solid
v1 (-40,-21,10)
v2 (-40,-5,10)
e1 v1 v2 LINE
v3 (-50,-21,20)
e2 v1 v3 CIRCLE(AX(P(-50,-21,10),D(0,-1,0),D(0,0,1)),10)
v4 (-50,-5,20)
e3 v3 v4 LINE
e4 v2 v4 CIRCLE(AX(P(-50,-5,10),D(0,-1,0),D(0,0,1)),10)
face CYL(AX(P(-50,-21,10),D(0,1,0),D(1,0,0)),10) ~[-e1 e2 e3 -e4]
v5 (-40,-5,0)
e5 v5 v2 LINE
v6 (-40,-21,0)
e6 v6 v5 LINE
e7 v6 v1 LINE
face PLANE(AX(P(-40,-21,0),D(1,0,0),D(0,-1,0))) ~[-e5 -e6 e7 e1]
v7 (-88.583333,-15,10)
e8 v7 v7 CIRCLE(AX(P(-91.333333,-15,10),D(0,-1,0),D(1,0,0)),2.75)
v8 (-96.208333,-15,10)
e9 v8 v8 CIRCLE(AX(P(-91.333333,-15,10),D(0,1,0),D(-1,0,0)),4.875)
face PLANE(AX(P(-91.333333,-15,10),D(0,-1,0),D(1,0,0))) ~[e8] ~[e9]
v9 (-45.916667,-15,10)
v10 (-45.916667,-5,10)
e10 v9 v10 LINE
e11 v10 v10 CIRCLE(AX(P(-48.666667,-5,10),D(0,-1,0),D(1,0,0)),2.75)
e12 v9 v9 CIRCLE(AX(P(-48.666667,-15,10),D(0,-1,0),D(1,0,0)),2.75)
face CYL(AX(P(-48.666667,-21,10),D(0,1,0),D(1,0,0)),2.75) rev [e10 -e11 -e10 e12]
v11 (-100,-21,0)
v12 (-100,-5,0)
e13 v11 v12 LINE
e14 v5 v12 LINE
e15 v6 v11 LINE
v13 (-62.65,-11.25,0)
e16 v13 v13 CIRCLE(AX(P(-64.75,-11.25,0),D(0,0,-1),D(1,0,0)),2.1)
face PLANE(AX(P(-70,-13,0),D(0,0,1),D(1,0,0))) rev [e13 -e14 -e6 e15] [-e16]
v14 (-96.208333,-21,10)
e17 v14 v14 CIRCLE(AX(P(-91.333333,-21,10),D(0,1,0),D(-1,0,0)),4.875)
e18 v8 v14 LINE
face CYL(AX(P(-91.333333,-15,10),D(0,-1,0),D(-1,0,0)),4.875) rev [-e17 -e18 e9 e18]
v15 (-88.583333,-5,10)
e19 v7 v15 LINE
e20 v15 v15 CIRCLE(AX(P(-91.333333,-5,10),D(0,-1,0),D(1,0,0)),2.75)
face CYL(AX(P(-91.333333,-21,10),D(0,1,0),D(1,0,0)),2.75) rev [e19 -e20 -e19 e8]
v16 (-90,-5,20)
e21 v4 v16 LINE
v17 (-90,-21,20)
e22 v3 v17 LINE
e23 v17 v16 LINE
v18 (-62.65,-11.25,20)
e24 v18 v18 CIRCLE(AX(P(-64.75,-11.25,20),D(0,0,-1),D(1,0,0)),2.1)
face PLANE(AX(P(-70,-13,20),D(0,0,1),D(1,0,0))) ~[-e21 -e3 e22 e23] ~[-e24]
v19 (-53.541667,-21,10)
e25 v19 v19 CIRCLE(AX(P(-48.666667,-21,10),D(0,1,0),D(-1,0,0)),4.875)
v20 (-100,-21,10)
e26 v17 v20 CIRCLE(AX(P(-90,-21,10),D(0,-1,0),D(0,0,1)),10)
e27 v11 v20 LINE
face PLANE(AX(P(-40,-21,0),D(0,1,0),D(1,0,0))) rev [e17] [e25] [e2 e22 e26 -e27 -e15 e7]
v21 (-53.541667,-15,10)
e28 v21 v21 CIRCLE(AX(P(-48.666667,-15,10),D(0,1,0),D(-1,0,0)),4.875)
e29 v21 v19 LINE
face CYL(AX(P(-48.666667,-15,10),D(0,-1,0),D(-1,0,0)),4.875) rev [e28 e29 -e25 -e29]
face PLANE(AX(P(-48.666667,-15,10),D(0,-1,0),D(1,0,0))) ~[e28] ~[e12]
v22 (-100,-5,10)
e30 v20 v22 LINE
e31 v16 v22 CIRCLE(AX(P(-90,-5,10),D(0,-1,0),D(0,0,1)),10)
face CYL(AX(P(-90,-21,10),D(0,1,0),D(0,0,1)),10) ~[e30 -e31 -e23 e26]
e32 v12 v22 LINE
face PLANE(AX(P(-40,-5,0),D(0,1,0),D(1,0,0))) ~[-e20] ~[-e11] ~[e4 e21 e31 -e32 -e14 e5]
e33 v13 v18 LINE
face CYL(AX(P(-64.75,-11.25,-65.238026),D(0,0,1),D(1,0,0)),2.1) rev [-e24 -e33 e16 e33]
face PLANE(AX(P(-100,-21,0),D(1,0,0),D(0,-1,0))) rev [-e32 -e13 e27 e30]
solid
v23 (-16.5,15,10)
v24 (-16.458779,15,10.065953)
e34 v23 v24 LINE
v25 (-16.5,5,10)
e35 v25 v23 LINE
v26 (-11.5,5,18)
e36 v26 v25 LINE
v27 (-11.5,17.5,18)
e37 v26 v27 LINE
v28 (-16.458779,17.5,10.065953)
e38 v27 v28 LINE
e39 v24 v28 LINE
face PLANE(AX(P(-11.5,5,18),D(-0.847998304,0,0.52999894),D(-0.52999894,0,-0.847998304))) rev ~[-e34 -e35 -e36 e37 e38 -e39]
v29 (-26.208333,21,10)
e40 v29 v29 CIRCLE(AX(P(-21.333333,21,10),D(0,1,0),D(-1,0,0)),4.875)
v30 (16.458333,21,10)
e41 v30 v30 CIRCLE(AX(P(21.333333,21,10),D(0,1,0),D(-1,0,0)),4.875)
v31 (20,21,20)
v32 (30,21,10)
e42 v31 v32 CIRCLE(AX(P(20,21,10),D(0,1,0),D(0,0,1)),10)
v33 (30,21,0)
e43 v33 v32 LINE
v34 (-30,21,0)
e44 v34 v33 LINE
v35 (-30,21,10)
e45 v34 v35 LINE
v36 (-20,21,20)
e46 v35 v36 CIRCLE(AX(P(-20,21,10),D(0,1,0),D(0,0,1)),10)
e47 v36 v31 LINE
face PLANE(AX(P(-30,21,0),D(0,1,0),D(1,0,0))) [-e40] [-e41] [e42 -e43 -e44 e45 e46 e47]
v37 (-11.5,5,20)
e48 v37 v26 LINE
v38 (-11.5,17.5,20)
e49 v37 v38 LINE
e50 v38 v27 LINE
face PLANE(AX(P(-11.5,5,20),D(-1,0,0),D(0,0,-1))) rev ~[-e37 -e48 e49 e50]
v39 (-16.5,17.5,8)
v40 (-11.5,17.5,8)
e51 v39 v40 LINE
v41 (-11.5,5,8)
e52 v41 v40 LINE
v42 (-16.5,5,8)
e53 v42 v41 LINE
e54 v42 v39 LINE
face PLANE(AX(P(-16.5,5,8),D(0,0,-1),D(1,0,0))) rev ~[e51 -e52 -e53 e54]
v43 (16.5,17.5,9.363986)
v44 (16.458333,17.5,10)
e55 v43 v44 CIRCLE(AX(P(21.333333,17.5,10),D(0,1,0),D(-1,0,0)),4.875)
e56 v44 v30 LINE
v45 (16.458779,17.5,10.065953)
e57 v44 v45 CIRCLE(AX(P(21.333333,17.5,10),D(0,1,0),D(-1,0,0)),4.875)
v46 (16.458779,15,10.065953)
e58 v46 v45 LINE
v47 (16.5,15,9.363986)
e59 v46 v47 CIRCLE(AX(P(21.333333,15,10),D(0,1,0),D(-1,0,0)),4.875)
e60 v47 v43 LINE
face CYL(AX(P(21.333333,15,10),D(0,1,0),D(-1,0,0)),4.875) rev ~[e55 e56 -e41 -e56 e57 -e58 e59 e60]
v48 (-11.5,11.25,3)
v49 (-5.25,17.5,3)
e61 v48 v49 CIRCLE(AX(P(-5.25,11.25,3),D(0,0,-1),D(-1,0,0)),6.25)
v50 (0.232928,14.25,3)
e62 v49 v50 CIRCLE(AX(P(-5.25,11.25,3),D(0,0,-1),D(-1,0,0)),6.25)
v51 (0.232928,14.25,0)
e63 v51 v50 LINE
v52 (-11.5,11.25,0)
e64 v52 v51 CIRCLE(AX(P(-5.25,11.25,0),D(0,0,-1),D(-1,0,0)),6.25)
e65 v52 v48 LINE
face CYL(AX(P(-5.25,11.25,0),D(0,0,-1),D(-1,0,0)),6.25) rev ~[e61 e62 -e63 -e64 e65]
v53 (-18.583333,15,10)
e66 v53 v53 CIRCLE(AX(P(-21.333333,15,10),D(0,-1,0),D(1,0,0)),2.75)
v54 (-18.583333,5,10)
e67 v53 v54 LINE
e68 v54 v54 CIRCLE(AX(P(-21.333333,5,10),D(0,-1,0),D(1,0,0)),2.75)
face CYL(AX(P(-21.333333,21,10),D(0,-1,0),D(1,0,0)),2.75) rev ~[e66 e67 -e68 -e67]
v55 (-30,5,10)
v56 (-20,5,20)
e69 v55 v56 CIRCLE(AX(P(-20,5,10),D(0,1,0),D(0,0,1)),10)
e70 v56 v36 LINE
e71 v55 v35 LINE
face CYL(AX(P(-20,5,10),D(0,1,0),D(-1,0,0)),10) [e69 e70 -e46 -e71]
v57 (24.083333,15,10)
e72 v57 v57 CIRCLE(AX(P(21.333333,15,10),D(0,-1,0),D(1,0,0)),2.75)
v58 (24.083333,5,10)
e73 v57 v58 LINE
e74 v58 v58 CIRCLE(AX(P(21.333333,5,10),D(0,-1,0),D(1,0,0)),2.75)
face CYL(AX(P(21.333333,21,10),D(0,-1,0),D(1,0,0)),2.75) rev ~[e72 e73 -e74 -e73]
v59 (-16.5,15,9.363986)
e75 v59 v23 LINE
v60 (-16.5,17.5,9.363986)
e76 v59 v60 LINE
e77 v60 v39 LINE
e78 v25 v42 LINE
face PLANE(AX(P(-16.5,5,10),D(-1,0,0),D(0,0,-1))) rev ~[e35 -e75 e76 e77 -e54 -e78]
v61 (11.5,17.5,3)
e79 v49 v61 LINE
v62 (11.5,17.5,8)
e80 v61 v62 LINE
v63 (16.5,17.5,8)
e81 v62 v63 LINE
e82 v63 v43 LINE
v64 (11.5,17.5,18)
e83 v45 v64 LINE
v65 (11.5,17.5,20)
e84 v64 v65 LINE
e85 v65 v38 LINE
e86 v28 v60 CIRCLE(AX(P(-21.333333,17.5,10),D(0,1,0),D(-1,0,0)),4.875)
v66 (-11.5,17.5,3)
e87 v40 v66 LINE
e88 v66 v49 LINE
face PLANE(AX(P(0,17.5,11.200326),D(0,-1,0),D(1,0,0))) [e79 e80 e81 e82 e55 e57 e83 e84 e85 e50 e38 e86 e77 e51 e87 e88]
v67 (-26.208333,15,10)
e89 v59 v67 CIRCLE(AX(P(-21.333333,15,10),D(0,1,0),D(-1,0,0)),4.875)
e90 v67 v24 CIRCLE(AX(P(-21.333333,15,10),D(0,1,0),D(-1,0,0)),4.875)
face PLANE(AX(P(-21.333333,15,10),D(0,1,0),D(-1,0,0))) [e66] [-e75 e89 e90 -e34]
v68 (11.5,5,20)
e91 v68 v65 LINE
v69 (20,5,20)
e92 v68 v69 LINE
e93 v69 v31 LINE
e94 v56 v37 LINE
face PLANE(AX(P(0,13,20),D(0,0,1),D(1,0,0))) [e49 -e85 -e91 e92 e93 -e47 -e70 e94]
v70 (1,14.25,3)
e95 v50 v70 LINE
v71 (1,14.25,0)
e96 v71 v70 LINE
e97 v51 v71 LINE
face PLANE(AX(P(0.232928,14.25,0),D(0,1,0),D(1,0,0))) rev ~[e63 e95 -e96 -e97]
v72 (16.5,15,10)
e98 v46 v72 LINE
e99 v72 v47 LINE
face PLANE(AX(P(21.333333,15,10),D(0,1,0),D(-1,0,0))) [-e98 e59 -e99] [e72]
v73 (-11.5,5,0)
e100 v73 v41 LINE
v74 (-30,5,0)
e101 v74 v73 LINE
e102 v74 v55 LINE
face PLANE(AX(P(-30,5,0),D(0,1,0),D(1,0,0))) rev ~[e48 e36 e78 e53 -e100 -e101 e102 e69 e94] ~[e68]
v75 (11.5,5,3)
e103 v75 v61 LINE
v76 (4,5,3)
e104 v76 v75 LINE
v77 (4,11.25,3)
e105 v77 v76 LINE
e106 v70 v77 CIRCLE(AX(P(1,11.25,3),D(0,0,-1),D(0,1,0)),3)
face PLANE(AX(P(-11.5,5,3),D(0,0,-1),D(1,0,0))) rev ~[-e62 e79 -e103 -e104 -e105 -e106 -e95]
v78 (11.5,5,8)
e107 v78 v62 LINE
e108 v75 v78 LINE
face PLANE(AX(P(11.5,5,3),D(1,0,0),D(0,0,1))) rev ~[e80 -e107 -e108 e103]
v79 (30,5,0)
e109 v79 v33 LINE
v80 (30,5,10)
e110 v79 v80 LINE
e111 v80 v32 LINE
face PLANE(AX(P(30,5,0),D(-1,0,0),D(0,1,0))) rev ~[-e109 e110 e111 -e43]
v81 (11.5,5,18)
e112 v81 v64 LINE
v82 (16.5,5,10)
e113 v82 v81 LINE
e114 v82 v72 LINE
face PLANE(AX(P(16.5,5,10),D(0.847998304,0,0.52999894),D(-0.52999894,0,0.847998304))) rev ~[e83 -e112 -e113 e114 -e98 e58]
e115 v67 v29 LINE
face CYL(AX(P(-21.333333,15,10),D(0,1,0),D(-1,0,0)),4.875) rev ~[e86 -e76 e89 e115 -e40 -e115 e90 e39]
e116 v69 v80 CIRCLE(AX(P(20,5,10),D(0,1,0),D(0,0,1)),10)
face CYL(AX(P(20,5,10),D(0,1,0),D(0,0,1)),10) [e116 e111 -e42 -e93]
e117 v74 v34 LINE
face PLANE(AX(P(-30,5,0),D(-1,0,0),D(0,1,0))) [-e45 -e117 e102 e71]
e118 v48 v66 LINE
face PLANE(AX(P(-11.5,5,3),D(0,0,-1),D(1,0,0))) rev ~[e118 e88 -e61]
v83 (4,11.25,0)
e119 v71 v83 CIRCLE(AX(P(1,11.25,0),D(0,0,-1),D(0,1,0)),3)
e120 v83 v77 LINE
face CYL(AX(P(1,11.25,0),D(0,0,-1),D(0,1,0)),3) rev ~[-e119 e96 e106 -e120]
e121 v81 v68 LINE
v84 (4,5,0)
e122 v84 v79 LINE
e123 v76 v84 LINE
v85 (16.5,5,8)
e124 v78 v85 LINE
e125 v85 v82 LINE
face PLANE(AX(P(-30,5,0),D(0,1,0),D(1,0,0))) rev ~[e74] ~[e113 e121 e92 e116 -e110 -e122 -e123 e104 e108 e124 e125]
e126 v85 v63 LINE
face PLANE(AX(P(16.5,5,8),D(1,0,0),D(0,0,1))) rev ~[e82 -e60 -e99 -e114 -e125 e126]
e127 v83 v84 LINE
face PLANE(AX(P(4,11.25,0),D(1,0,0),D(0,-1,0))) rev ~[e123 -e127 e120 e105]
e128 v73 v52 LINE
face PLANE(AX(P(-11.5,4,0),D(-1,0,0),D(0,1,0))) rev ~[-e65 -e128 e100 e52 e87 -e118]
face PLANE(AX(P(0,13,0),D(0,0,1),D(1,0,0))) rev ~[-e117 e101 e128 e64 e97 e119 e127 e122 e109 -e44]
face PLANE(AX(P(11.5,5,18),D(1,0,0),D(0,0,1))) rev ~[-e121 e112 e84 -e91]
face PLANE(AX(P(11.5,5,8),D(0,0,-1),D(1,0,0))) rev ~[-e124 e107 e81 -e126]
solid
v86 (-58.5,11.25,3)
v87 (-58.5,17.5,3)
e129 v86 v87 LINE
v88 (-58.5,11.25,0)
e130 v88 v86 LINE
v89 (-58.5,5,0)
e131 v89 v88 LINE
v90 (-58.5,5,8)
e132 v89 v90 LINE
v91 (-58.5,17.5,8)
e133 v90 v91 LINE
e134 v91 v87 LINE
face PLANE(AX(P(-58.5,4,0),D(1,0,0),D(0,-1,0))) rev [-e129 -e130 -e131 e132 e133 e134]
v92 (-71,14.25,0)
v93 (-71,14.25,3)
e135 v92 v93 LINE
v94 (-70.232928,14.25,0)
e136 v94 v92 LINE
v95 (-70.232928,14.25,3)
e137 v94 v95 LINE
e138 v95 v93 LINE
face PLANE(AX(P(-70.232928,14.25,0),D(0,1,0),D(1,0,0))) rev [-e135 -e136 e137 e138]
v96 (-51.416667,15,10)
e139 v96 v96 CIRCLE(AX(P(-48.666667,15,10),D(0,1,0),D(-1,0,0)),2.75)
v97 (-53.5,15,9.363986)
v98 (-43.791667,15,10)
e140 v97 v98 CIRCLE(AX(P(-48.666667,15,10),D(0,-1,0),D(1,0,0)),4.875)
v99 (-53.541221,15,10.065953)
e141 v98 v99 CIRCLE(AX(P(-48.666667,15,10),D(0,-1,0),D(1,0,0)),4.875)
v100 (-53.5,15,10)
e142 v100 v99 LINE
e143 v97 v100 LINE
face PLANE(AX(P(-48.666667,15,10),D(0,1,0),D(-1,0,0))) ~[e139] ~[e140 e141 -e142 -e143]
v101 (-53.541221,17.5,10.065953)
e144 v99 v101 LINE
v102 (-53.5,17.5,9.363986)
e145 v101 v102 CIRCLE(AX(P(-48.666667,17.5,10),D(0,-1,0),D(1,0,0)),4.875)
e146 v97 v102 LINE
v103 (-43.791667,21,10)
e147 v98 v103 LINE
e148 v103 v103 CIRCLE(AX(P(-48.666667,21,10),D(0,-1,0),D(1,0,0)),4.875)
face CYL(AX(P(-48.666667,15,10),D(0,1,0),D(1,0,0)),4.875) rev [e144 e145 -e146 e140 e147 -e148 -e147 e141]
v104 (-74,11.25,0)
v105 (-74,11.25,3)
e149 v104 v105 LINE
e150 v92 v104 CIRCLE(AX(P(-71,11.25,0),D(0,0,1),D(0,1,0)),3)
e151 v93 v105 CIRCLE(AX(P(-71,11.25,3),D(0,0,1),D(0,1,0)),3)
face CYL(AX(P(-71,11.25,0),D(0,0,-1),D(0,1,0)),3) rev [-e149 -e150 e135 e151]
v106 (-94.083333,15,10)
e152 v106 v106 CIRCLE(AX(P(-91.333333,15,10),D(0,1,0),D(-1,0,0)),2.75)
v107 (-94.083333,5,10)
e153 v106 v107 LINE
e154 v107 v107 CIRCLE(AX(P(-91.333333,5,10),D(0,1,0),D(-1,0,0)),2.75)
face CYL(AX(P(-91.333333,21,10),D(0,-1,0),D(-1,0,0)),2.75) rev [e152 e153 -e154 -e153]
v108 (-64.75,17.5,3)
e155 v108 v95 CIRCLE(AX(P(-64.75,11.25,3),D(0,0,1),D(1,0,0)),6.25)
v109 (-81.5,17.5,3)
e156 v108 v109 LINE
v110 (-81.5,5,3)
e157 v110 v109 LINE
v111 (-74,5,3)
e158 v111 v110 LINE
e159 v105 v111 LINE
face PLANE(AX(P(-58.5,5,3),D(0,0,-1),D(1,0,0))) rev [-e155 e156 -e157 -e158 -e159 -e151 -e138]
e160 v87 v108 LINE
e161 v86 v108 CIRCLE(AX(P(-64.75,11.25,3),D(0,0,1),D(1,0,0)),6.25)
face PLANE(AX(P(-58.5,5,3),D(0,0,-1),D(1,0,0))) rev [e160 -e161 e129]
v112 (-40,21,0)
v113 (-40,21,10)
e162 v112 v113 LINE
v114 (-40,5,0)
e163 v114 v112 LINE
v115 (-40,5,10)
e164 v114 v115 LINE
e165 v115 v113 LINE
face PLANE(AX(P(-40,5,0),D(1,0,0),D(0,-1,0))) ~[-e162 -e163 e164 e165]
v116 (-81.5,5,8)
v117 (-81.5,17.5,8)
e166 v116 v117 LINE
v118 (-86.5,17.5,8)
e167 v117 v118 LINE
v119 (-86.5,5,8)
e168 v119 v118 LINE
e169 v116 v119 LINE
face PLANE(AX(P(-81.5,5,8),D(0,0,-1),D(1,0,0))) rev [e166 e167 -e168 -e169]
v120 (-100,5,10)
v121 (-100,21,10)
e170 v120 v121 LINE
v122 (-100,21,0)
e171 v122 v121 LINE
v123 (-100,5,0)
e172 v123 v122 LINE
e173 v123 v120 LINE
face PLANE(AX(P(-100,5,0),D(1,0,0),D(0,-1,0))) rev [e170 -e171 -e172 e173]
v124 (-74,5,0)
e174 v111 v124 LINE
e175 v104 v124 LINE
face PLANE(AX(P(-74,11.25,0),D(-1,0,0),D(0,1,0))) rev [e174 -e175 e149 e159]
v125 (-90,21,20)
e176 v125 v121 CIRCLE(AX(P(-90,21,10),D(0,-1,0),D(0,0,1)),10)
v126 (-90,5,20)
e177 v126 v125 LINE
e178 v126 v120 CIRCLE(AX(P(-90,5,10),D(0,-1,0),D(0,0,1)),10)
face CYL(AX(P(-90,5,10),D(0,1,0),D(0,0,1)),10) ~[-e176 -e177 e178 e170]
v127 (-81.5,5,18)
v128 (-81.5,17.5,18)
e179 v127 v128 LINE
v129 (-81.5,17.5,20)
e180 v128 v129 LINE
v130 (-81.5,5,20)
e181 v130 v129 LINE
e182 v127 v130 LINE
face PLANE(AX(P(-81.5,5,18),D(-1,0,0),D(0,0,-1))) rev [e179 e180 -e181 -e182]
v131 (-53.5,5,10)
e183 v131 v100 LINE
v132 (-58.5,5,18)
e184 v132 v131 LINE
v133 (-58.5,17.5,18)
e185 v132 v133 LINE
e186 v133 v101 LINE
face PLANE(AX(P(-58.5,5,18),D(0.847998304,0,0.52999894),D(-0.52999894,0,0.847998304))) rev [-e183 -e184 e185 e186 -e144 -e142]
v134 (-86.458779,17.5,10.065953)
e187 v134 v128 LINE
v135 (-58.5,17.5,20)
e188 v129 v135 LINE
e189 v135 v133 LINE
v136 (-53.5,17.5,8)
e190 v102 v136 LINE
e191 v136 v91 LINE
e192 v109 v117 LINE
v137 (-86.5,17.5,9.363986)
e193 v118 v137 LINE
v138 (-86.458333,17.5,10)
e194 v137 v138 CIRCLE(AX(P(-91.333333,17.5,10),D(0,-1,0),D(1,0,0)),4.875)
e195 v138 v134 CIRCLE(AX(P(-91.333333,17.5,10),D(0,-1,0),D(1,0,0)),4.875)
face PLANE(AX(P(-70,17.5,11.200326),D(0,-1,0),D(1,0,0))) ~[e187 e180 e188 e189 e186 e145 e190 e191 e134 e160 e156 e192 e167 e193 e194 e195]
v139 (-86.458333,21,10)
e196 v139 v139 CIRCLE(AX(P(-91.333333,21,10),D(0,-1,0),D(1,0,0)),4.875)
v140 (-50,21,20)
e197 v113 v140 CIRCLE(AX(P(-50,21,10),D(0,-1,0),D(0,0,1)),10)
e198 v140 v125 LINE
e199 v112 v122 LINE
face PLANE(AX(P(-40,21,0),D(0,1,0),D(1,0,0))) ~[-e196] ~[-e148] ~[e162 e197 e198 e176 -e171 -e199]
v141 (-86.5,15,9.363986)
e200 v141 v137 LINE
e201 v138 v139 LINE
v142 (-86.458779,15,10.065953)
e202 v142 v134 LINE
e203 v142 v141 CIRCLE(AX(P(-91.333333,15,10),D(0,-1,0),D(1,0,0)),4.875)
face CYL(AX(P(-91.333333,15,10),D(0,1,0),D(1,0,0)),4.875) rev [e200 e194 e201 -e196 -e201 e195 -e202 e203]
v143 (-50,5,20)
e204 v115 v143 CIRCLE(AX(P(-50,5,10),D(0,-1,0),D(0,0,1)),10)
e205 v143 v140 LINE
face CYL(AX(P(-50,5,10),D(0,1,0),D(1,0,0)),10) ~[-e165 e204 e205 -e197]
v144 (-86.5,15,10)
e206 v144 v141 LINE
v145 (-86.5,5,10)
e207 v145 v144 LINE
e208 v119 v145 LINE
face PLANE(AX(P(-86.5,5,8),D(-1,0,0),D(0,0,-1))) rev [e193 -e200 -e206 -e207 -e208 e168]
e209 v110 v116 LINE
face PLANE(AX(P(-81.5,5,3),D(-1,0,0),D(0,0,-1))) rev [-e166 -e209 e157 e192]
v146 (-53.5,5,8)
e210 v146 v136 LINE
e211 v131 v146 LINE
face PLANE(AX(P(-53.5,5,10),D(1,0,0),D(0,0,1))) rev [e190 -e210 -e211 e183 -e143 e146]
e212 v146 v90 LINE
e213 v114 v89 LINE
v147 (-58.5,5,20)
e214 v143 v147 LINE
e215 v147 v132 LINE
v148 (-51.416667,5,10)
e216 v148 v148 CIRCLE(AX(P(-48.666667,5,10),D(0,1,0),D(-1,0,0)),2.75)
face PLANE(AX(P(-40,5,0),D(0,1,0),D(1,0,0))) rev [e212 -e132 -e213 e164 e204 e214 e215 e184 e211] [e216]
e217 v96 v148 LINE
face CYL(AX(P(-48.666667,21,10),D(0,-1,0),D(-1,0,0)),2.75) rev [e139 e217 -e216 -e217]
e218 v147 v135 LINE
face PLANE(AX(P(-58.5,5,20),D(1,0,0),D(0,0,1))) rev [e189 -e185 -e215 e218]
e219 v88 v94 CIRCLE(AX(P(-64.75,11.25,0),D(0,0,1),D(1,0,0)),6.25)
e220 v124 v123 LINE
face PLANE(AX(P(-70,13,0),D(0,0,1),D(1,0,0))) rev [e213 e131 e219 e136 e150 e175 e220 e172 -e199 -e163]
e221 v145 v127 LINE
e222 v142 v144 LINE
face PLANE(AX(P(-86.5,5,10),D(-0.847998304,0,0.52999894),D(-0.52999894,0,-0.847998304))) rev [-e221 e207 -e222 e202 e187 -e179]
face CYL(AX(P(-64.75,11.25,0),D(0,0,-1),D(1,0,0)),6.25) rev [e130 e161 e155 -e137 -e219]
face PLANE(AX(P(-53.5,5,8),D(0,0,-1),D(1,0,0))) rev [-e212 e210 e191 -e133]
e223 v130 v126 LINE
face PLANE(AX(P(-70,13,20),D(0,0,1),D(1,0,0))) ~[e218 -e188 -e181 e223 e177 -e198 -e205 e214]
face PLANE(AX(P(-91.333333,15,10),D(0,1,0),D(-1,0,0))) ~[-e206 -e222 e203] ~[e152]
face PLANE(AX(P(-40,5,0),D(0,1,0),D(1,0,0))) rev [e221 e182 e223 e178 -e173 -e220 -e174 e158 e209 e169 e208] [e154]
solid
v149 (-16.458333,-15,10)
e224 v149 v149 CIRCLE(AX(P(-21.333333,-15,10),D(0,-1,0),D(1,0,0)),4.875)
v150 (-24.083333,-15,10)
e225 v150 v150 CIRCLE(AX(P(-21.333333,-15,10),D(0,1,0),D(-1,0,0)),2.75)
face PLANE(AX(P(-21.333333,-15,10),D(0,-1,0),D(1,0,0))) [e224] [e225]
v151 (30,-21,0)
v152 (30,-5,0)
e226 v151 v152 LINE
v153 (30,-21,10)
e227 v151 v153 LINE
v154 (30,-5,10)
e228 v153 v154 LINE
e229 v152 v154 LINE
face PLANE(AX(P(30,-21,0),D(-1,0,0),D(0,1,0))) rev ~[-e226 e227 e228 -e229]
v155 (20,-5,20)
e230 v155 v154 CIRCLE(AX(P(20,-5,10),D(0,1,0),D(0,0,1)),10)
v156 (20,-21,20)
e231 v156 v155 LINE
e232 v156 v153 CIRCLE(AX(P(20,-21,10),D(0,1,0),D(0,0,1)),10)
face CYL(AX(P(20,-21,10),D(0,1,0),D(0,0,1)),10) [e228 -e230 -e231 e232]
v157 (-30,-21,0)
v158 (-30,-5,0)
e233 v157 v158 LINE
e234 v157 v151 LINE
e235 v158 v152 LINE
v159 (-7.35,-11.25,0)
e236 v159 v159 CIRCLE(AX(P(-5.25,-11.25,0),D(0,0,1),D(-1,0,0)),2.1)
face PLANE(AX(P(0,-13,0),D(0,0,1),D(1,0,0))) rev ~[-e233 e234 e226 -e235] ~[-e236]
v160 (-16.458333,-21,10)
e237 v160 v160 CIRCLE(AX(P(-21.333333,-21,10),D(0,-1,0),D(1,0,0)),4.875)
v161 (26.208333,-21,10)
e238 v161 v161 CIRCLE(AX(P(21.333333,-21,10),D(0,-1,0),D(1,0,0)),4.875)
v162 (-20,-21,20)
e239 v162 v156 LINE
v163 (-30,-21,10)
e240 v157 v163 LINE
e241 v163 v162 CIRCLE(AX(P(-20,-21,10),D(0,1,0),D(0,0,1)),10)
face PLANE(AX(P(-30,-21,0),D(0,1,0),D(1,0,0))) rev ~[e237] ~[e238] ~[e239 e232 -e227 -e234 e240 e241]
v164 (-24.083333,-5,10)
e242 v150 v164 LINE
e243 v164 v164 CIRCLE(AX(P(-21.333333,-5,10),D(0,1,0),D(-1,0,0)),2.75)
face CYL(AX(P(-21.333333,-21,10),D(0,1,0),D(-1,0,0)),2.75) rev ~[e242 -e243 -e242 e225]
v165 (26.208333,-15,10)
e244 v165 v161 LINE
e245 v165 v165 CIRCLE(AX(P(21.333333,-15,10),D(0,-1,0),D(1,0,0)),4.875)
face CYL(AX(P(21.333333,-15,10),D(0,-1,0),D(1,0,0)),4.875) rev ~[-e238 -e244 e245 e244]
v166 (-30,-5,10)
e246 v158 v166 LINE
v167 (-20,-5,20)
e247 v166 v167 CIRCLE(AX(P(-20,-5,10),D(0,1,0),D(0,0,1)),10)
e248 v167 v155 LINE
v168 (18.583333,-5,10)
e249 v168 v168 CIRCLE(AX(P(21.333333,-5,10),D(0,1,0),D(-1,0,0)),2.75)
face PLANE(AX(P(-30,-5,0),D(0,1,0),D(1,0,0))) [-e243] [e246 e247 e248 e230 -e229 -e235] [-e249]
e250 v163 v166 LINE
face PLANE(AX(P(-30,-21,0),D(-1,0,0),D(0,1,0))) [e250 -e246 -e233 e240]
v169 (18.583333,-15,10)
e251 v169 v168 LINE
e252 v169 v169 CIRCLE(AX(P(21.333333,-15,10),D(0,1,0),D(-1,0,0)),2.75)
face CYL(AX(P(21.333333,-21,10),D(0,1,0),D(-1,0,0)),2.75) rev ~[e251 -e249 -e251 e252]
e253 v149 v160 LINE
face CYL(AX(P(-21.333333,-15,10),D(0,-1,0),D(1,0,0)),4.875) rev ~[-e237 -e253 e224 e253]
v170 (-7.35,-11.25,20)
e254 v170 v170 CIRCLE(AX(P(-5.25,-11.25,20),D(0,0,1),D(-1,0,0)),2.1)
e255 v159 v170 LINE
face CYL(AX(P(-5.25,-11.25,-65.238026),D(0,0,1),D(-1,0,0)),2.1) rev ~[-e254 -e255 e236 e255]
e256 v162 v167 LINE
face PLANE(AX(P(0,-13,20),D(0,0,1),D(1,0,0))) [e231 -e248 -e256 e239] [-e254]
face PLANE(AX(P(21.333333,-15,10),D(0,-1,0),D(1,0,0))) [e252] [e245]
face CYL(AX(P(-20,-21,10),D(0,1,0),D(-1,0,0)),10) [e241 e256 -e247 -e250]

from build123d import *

# Parameters (mm, degrees)
F0_W           = 60
F0_H           = 16
F1_DEPTH       = 20
F3_D           = 5.5
F3_CBORE_D     = 9.75
F3_CBORE_DEPTH = 6
F5_DEPTH       = 12.5
F7_DEPTH       = 3
F9_D           = 5.5
F9_CBORE_D     = 9.75
F9_CBORE_DEPTH = 6
F10_D          = 4.2
F13_R          = 10
F13_2_R        = 10
F13_3_R        = 10
F13_4_R        = 10


with BuildPart() as f1:
    # F0 (on Top) → F1 (new body)
    with BuildSketch(Plane.XY):
        with Locations((0, 13)):
            Rectangle(F0_W, F0_H)
    extrude(amount=F1_DEPTH)

    # F3 (through all)
    with Locations(Plane(origin=(0, 21, 0), x_dir=(-1, 0, 0), z_dir=(0, 1, 0))):
        with Locations((-21.3333333333, 10), (21.3333333333, 10)):
            CounterBoreHole(F3_D / 2, F3_CBORE_D / 2, F3_CBORE_DEPTH)

    # F4 (on face) → F5 (cut)
    with BuildSketch(Plane.XZ.offset(-5)):
        Polygon((11.5, 8), (16.5, 8), (16.5, 10), (11.5, 18), (11.5, 20), (-11.5, 20), (-11.5, 18), (-16.5, 10), (-16.5, 8), (-11.5, 8), (-11.5, 3), (11.5, 3), align=None)
    extrude(amount=-F5_DEPTH, mode=Mode.SUBTRACT)

    # F6 (on face) → F7 (cut, through all)
    with BuildSketch(Plane(origin=(0, 0, 0), x_dir=(1, 0, 0), z_dir=(0, 0, -1))):
        with BuildLine():
            Line((-11.5, -4), (-11.5, -11.25))
            ThreePointArc((-11.5, -11.25), (-6.7982570343, -17.3051961286), (0.2329280499, -14.25))
            Line((0.2329280499, -14.25), (1, -14.25))
            ThreePointArc((1, -14.25), (3.1213203436, -13.3713203436), (4, -11.25))
            Line((4, -11.25), (4, -4))
            Line((4, -4), (-11.5, -4))
        make_face()
    extrude(amount=-F7_DEPTH, mode=Mode.SUBTRACT)


with BuildPart() as f1b:
    # F0 (on Top) → F1, piece 2 (new body)
    with BuildSketch(Plane.XY):
        with Locations((0, -13)):
            Rectangle(F0_W, F0_H)
    extrude(amount=F1_DEPTH)

    # F9 (through all)
    with Locations(Plane.XZ.offset(21)):
        with Locations((-21.3333333333, 10), (21.3333333333, 10)):
            CounterBoreHole(F9_D / 2, F9_CBORE_D / 2, F9_CBORE_DEPTH)

    # F10 (through all)
    with Locations(Plane(origin=(0, 0, 0), x_dir=(1, 0, 0), z_dir=(0, 0, -1))):
        with Locations((-5.25, 11.25)):
            Hole(F10_D / 2)


with BuildPart() as f11_1:
    # F11: instance of F1b
    add(f1b.part.mirror(Plane.YZ))


with BuildPart() as f11_2:
    # F11: instance of F1
    add(f1.part.mirror(Plane.YZ))


with BuildPart() as f11_2_1:
    # F12: moved
    add(f11_2.part.moved(Location((-70, 0, 0))))

    # F13#4
    f13_4_edges = [f11_2_1.edges().sort_by_distance(p)[0] for p in [
        (-40, 13, 20),
        (-100, 13, 20),
    ]]
    fillet(f13_4_edges, radius=F13_4_R)


with BuildPart() as f11_1_1:
    # F12: moved
    add(f11_1.part.moved(Location((-70, 0, 0))))

    # F13#3
    f13_3_edges = [f11_1_1.edges().sort_by_distance(p)[0] for p in [
        (-40, -13, 20),
        (-100, -13, 20),
    ]]
    fillet(f13_3_edges, radius=F13_3_R)


with BuildPart() as f1b_1:
    add(f1b.part)

    # F13
    f13_edges = [f1b_1.edges().sort_by_distance(p)[0] for p in [
        (30, -13, 20),
        (-30, -13, 20),
    ]]
    fillet(f13_edges, radius=F13_R)


with BuildPart() as f1_1:
    add(f1.part)

    # F13#2
    f13_2_edges = [f1_1.edges().sort_by_distance(p)[0] for p in [
        (30, 13, 20),
        (-30, 13, 20),
    ]]
    fillet(f13_2_edges, radius=F13_2_R)


solid = Compound([f11_2_1.part, f11_1_1.part, f1b_1.part, f1_1.part])
